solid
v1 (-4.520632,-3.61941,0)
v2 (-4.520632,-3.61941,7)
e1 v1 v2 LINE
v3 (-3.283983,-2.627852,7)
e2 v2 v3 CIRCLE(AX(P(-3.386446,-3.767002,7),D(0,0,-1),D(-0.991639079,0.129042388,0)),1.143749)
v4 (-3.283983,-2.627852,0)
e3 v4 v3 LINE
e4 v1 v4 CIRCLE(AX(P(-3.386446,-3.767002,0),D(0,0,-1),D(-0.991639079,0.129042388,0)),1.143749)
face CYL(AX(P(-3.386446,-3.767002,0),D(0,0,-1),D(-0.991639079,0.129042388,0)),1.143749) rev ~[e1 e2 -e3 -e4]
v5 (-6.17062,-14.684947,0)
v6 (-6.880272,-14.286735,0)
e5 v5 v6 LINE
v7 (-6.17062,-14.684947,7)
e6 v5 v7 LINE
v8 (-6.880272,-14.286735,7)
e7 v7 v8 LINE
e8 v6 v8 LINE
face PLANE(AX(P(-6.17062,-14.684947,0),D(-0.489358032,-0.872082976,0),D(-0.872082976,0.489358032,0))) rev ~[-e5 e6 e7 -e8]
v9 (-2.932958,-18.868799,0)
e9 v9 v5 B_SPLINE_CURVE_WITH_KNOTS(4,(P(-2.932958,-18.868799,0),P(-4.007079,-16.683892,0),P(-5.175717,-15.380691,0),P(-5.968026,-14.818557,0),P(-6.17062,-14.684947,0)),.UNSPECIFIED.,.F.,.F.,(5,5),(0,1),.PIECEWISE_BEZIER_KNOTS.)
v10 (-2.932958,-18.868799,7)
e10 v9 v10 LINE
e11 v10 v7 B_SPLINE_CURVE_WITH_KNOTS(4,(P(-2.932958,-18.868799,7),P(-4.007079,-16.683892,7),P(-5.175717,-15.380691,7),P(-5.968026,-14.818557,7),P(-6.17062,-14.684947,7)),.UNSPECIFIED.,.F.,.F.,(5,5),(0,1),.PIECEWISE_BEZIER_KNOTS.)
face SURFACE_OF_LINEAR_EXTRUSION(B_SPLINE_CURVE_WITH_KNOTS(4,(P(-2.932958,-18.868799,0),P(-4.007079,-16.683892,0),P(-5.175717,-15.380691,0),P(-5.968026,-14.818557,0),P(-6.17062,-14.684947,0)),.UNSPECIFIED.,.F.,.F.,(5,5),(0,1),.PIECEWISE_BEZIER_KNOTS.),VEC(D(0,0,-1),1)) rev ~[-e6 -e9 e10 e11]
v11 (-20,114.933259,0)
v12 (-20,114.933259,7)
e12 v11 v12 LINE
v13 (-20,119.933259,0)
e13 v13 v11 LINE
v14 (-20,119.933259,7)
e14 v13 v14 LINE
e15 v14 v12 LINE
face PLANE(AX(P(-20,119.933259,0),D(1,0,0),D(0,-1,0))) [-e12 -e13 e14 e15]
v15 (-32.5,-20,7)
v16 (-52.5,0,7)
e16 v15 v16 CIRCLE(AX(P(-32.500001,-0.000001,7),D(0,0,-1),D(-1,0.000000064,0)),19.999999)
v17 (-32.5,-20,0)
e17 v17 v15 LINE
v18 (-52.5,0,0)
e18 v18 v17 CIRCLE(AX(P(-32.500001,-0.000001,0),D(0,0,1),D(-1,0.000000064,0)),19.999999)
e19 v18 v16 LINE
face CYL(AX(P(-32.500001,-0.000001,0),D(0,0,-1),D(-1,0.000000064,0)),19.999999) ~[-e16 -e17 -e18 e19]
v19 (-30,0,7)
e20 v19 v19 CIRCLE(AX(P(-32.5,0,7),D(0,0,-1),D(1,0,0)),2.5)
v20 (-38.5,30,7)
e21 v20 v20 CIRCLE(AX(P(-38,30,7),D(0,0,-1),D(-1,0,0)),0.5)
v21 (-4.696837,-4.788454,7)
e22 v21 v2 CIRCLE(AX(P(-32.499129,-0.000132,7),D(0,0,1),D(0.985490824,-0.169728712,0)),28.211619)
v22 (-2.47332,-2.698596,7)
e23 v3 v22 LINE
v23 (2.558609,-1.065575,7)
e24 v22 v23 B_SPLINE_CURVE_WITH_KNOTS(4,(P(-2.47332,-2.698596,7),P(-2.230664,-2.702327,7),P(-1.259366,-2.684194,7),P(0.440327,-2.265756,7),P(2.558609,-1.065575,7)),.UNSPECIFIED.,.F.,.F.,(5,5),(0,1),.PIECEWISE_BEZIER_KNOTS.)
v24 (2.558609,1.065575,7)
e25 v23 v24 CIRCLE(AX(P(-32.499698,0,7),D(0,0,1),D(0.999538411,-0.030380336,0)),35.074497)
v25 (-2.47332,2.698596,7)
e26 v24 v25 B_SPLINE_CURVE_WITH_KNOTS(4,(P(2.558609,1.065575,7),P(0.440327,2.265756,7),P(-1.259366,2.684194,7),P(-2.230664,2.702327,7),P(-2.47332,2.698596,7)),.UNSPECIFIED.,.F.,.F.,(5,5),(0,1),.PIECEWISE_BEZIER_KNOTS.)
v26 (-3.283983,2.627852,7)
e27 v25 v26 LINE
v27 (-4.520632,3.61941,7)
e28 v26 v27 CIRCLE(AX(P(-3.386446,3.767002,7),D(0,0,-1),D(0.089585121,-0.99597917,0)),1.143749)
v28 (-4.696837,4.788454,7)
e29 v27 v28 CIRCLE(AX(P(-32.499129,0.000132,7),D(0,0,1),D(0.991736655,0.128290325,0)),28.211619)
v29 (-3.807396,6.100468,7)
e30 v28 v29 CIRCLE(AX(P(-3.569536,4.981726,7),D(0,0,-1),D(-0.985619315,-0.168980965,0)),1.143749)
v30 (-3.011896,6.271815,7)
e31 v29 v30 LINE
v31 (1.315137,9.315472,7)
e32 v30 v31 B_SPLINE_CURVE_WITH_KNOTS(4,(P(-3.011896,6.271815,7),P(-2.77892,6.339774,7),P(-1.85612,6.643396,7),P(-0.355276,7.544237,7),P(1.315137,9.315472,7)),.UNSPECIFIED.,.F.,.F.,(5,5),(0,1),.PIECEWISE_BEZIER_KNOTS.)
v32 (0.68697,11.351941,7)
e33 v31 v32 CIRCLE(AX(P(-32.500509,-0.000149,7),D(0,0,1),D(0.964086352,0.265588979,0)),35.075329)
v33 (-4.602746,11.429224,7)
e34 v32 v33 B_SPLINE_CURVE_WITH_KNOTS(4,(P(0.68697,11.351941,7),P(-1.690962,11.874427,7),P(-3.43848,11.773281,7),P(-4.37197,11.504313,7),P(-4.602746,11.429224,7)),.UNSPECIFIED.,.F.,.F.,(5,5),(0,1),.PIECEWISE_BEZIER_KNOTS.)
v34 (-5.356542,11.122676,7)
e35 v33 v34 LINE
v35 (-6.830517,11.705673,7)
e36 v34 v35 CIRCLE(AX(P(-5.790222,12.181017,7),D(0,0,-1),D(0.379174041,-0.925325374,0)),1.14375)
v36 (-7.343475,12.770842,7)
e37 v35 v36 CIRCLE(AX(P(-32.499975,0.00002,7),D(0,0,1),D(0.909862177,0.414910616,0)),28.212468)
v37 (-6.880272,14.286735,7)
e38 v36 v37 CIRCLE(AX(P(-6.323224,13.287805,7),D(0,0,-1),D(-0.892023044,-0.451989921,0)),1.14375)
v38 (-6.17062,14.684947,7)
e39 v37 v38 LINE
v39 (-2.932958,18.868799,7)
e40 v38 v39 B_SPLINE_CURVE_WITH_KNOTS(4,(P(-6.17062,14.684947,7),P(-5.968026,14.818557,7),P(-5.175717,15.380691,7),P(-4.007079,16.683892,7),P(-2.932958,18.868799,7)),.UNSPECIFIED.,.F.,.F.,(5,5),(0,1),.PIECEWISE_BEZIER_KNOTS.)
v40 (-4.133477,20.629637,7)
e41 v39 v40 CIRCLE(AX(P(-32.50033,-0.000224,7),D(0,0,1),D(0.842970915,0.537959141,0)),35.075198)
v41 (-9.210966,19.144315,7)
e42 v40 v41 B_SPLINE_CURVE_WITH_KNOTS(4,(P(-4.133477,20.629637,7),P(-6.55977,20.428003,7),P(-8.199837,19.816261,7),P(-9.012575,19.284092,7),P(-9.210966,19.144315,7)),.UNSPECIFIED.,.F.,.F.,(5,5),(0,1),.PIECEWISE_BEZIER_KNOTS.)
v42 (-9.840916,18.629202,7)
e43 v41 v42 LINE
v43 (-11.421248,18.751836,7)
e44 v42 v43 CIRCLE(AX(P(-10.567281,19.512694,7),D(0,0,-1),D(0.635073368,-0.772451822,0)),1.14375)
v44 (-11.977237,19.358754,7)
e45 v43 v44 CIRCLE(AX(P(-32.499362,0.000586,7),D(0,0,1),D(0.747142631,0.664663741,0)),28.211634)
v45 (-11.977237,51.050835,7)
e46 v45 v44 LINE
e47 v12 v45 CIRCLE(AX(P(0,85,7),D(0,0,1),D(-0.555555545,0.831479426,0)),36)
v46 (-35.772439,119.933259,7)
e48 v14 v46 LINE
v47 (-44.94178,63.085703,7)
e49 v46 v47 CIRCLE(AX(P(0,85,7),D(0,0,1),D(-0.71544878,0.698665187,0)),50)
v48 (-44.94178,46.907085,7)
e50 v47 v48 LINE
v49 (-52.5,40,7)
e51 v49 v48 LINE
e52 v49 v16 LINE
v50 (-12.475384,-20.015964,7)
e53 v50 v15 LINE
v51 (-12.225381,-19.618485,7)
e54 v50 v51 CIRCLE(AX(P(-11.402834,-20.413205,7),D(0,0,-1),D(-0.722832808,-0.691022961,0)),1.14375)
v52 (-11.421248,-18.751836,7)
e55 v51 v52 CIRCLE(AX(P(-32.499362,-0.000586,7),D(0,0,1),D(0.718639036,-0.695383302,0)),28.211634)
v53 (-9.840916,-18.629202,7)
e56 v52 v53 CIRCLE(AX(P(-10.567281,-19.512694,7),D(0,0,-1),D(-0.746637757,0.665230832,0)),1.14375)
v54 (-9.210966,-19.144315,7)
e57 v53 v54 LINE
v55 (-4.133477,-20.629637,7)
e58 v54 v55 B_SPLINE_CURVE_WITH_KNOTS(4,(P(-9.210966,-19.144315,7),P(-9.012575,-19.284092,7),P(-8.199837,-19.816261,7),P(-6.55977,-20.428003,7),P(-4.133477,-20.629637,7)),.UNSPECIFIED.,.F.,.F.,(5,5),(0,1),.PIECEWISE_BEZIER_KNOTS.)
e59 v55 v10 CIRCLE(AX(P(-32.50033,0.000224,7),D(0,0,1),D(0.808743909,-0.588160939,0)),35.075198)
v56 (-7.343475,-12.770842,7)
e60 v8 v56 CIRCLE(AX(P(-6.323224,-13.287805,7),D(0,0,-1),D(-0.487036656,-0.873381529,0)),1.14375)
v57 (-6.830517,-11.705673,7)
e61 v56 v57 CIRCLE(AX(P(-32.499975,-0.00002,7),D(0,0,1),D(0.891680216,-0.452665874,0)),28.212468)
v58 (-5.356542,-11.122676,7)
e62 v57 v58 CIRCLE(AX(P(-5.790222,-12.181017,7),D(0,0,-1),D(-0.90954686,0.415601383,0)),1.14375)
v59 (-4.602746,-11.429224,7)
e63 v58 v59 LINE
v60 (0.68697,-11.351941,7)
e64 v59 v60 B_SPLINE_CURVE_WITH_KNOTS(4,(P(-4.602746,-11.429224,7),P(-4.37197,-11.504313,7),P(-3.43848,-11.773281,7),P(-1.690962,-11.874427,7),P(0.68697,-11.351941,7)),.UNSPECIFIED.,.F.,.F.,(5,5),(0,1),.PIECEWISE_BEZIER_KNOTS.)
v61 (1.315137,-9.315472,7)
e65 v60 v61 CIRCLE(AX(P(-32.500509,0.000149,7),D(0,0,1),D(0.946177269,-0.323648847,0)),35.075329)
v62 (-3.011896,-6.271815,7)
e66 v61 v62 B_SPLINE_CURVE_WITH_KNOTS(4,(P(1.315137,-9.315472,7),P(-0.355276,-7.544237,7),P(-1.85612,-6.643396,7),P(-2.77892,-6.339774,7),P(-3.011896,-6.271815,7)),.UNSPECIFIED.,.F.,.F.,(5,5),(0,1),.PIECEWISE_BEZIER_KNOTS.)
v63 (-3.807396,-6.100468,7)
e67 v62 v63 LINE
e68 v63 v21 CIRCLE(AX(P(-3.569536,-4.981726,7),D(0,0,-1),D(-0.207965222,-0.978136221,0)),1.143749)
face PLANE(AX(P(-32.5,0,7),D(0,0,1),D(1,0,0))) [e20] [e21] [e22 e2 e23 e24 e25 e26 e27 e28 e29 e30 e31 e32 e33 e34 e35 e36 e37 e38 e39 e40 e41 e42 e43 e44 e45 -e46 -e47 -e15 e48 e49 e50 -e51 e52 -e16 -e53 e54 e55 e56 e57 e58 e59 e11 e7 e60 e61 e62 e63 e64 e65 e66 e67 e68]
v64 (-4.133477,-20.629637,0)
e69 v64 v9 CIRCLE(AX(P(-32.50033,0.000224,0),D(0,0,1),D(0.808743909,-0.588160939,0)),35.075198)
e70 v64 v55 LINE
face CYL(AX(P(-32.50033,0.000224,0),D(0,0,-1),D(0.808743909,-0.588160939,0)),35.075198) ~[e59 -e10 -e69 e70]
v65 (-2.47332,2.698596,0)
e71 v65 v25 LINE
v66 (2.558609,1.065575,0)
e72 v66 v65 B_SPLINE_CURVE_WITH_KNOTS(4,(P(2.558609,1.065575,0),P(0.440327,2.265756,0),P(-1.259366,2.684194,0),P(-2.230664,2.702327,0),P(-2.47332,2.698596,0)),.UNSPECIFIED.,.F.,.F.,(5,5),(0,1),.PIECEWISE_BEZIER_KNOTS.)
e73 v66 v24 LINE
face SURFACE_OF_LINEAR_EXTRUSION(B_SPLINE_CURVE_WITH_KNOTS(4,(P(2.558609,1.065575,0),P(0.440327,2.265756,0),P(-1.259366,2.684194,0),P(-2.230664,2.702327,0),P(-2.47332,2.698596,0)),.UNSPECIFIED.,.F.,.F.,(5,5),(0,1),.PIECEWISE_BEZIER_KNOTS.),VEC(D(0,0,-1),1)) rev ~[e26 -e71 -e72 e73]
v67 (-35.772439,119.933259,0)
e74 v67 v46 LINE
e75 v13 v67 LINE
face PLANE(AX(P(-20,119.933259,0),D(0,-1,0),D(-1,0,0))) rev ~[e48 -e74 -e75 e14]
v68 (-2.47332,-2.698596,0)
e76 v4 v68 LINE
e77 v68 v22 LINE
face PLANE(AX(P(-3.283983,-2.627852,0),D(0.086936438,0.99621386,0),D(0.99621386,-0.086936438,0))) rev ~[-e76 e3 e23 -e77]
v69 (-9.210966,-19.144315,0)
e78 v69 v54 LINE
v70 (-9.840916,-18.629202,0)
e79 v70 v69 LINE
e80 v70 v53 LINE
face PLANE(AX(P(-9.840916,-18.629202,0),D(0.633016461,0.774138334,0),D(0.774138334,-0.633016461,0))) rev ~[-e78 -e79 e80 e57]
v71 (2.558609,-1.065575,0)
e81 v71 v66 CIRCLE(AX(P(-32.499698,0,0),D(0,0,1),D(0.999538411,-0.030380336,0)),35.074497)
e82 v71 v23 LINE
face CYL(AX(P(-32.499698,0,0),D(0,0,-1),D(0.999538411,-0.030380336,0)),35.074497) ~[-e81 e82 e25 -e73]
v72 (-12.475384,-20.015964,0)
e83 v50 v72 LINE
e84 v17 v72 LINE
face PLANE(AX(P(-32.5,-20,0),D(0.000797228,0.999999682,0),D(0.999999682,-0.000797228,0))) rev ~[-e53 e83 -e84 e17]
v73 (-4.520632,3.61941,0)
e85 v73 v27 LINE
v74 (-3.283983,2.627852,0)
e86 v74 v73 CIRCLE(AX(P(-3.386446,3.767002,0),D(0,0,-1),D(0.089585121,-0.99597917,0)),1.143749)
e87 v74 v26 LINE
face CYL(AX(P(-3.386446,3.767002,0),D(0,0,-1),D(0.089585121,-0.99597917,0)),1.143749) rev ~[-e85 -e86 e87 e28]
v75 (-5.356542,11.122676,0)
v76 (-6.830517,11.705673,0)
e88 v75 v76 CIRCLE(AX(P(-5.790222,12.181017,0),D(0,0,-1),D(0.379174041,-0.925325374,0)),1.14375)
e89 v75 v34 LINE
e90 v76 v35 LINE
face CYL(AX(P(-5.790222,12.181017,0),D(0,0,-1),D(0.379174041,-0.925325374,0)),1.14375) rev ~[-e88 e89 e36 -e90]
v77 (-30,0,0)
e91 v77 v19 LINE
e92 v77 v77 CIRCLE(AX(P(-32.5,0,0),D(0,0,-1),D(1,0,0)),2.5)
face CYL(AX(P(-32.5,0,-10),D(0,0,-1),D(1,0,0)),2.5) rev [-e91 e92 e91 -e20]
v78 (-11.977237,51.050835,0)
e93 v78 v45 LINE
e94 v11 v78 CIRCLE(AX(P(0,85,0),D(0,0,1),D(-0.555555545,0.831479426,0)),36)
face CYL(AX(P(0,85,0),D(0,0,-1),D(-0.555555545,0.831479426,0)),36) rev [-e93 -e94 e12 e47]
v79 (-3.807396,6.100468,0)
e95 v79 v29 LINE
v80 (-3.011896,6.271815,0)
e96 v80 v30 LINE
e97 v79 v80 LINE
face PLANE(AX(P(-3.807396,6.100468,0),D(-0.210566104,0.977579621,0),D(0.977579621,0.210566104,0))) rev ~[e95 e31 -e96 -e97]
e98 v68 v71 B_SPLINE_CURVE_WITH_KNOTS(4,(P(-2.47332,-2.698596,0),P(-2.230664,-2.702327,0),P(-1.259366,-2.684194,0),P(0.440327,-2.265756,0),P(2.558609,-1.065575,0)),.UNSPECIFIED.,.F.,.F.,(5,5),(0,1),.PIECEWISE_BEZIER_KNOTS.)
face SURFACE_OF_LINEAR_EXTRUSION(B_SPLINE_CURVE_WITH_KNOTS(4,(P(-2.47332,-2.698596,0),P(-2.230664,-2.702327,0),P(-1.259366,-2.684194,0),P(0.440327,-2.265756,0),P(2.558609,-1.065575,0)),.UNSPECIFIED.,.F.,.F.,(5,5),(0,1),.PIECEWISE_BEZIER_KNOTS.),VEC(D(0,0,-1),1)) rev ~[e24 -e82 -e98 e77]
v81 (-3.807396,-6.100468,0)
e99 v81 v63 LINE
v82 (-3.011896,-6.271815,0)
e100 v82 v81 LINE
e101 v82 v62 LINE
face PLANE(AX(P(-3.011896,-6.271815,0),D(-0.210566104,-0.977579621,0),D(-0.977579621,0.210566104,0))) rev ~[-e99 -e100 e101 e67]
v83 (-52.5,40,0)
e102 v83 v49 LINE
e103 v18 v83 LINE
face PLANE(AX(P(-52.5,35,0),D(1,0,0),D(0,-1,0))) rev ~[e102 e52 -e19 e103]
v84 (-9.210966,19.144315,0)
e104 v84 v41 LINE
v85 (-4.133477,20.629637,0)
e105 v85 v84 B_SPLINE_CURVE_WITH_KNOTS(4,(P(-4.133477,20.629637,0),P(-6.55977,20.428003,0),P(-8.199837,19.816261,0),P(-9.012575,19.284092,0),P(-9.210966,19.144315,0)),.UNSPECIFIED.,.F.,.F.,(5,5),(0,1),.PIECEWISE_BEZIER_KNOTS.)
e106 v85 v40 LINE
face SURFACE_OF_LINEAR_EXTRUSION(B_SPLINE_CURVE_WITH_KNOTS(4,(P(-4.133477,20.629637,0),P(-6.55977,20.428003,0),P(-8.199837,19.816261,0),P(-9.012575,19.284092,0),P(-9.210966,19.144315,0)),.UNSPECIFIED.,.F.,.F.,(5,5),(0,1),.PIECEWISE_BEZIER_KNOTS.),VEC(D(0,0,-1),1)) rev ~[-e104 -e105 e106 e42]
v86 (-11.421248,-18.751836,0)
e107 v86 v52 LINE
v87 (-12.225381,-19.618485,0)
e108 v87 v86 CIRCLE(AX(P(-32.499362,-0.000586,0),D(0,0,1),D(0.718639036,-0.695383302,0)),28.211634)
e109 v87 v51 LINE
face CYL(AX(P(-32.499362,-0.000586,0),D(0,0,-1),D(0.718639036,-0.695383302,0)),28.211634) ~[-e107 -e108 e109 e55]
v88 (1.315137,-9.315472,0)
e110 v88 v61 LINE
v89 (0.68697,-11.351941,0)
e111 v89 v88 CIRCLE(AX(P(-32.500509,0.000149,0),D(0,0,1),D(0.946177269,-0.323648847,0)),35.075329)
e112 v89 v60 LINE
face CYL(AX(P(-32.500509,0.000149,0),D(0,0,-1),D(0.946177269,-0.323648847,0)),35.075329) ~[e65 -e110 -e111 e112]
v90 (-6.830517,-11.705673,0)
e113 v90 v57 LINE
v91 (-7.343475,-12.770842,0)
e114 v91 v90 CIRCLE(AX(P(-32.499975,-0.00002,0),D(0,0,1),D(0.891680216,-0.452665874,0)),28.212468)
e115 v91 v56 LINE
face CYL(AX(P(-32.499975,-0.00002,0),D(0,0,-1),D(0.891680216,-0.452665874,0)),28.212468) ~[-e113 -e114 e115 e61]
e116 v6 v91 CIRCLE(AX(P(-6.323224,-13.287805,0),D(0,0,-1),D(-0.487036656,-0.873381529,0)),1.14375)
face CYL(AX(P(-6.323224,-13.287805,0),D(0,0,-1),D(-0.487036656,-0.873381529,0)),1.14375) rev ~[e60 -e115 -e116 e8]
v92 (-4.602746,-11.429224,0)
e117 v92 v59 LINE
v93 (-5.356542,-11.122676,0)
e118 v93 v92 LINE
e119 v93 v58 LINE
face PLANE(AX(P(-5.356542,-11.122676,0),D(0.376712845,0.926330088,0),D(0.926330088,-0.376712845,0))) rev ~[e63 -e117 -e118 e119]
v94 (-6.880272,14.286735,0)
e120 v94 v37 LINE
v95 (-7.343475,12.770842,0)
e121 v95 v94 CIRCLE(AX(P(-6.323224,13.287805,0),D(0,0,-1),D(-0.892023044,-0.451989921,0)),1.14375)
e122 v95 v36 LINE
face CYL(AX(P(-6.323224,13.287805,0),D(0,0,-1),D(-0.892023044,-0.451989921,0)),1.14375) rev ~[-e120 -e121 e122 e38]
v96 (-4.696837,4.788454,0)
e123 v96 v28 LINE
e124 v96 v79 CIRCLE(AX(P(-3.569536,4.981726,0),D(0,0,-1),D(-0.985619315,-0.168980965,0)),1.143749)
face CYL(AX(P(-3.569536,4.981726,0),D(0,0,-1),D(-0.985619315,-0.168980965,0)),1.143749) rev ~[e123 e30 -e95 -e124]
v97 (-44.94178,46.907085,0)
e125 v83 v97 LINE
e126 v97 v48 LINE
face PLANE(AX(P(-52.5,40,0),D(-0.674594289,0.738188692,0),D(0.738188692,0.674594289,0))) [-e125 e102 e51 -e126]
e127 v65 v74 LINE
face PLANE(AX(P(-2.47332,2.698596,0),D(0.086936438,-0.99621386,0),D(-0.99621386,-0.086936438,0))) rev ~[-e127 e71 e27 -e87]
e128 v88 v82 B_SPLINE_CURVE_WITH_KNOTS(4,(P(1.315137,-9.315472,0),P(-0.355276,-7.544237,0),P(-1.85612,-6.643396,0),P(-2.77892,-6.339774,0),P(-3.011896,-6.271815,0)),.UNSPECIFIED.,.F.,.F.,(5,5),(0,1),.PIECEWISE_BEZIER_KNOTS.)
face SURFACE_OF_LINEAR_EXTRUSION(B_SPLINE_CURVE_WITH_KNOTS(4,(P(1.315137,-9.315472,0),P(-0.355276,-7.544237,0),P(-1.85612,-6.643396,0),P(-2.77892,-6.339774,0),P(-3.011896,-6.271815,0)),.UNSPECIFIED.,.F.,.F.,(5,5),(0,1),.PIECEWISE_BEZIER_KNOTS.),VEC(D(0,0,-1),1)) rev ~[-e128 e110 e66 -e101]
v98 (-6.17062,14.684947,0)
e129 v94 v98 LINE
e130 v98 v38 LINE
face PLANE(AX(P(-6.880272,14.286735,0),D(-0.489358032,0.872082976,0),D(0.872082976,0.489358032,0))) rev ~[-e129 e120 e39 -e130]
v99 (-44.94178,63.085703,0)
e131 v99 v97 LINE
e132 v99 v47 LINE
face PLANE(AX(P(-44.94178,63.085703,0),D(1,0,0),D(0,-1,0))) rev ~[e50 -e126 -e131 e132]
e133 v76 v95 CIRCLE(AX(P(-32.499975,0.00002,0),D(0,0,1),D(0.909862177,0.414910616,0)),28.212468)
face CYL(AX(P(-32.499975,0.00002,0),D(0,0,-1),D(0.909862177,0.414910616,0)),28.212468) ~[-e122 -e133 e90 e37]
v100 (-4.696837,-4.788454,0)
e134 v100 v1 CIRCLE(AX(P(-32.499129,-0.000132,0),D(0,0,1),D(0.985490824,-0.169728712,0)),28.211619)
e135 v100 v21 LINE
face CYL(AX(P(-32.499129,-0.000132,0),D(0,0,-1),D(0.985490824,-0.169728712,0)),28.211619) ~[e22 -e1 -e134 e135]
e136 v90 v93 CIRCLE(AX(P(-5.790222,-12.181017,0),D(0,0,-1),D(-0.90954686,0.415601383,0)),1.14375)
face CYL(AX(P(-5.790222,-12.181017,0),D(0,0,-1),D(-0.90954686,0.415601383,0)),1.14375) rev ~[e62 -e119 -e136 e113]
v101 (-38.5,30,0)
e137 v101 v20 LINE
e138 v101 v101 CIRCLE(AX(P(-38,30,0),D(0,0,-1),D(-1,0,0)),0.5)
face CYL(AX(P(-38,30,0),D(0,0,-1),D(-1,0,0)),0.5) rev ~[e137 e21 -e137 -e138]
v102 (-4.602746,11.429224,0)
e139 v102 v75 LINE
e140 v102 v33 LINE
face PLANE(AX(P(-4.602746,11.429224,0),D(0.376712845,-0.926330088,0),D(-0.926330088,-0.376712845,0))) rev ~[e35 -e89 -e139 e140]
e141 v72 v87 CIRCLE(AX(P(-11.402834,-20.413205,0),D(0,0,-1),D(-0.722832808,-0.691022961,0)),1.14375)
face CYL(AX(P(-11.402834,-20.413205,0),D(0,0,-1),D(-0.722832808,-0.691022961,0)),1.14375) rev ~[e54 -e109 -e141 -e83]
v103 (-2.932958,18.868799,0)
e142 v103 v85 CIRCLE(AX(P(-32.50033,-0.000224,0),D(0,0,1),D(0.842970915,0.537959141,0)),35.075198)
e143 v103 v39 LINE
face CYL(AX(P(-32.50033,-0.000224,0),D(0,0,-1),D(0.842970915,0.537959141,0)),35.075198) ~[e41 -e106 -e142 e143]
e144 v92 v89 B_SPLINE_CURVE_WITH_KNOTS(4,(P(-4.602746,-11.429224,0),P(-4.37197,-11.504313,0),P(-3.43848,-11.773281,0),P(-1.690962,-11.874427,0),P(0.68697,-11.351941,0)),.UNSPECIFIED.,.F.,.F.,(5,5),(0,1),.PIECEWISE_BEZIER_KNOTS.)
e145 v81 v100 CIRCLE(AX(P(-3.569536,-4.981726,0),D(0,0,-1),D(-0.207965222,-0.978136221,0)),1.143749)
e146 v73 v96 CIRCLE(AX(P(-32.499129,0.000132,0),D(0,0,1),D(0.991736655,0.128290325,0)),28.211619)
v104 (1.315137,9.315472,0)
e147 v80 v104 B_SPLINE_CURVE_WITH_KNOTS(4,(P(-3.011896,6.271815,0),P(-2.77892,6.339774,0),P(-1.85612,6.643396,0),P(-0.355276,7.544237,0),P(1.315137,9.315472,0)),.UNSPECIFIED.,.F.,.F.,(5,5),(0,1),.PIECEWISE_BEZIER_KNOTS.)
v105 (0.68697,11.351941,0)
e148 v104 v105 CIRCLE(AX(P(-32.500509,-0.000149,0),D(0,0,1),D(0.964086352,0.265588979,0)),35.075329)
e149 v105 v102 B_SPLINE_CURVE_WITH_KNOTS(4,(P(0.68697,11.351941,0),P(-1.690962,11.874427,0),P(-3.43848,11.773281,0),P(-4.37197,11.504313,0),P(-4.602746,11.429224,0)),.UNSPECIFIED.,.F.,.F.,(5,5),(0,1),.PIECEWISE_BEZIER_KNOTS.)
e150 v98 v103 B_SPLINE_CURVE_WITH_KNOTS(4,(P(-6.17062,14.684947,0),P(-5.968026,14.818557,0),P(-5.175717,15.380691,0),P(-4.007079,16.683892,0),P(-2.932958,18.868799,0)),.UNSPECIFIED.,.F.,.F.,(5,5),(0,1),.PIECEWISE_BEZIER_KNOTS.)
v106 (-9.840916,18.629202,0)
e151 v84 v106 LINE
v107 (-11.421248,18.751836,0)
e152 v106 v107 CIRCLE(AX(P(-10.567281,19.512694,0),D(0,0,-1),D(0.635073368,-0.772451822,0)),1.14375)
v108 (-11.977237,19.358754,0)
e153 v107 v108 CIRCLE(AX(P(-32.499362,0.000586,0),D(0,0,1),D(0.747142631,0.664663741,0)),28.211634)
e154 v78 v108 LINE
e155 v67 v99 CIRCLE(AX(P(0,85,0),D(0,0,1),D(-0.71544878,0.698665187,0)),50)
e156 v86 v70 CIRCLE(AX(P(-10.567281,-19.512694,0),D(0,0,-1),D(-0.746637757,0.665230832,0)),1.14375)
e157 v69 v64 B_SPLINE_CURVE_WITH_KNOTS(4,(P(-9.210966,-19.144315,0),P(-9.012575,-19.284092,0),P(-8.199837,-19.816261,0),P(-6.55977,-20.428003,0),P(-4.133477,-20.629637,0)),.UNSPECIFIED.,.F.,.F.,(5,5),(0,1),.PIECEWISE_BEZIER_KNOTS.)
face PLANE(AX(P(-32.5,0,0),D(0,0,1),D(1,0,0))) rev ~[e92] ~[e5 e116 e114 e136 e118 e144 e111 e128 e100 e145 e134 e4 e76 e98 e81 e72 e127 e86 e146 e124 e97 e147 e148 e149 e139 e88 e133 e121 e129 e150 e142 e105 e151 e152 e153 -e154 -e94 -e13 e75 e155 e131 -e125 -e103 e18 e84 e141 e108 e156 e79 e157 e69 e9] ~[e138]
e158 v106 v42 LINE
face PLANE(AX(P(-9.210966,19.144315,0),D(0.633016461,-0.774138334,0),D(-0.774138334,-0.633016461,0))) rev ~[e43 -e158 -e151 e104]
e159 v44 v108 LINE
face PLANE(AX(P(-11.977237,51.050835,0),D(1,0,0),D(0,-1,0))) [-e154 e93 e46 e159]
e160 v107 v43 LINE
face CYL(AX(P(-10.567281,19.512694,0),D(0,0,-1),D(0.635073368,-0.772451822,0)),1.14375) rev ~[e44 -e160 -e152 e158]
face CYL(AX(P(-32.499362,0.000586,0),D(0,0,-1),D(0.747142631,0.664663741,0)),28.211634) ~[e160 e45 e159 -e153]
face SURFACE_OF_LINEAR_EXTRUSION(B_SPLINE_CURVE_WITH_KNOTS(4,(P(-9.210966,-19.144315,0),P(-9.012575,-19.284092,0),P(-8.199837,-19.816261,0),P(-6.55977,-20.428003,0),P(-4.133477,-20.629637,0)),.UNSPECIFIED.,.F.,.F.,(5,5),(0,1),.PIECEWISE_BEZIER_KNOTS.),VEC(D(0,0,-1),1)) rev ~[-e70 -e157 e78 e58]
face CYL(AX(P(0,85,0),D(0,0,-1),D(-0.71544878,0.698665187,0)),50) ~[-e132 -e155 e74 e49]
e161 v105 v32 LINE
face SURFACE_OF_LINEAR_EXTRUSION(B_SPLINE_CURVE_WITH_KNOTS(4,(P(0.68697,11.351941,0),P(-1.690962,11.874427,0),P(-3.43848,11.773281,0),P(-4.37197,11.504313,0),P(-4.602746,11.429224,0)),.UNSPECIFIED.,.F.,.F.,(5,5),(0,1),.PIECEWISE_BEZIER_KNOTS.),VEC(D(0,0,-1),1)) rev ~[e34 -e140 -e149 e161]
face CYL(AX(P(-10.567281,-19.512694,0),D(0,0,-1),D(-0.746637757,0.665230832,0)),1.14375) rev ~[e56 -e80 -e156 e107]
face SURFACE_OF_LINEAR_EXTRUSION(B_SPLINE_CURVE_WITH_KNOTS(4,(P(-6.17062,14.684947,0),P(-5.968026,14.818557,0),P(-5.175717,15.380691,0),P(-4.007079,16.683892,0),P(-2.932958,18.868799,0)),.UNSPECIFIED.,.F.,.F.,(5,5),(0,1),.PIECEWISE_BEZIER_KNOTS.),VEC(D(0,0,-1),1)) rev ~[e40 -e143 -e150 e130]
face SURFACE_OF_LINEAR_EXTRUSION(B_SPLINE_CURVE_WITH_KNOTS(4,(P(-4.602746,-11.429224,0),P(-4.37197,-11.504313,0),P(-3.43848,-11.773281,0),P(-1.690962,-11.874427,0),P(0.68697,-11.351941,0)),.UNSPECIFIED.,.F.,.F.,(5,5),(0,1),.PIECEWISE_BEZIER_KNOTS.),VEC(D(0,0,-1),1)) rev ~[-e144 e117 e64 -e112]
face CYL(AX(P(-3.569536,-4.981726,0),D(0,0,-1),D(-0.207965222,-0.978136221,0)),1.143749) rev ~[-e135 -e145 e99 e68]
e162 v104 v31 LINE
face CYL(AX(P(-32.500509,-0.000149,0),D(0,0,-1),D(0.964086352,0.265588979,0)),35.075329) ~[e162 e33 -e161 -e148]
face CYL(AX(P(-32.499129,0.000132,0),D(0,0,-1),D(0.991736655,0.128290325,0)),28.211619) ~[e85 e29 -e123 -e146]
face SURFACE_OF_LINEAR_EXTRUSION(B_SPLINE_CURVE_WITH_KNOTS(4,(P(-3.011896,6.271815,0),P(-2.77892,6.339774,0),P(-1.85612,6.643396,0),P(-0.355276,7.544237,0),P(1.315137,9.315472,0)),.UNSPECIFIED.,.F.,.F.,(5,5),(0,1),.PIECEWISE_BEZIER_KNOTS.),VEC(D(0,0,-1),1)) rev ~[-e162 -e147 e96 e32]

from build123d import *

# Parameters (mm, degrees)
CYLINDER002_R     = 0.5
CYLINDER002_DEPTH = 15
SKETCH002_W       = 3.675859
SKETCH002_H       = 9.820133
PAD002_DEPTH      = 10
CYLINDER001_R     = 2.5
CYLINDER001_DEPTH = 30
PAD_DEPTH         = 7
PAD001_DEPTH      = 7


with BuildPart() as fixation_servo:
    # Cylinder002 → Cylinder002 (new body)
    with BuildSketch(Plane(origin=(38, 30, 0), x_dir=(1, 0, 0), z_dir=(0, 0, 1))):
        Circle(CYLINDER002_R)
    extrude(amount=CYLINDER002_DEPTH)


with BuildPart() as part_mirroring001:
    # Part__Mirroring001: instance of fixation_servo
    add(fixation_servo.part.mirror(Plane(origin=(0, 0, 0), x_dir=(0, -1, 0), z_dir=(1, 0, 0))))


with BuildPart() as gearcutter_g:
    # Sketch002 → Pad002 (new body)
    with BuildSketch(Plane.XY):
        with BuildLine():
            Line((-20, 35), (-38.772621, 35))
            Line((-38.772621, 35), (-38.772621, -38.212818))
            Line((-38.772621, -38.212818), (39.418999, -38.212818))
            Line((20.044458, -20.01598), (39.418999, -38.212818))
            Line((0, -20), (20.044458, -20.01598))
            ThreePointArc((-20, 0), (-14.142136, -14.142136), (0, -20))
            Line((-20, 35), (-20, 0))
        make_face()
        with Locations((21.83793, 25.089934)):
            Rectangle(SKETCH002_W, SKETCH002_H)
    extrude(amount=PAD002_DEPTH)


with BuildPart() as hole:
    # Cylinder001 → Cylinder001 (new body)
    with BuildSketch(Plane.XY.offset(-10)):
        Circle(CYLINDER001_R)
    extrude(amount=CYLINDER001_DEPTH)


with BuildPart() as cut001:
    # InvoluteGear → Pad (new body)
    with BuildSketch(Plane.XY):
        with BuildLine():
            Line((29.216017, -2.627852), (30.02668, -2.698596))
            add(Edge.make_bspline(
                [(30.02668, -2.698596), (30.269336, -2.702327), (31.240634, -2.684194), (32.940327, -2.265756), (35.058609, -1.065575)],
                knots=[0, 0, 0, 0, 0, 1, 1, 1, 1, 1], degree=4))
            ThreePointArc((35.058609, -1.065575), (35.074799, 0), (35.058609, 1.065575))
            add(Edge.make_bspline(
                [(35.058609, 1.065575), (32.940327, 2.265756), (31.240634, 2.684194), (30.269336, 2.702327), (30.02668, 2.698596)],
                knots=[0, 0, 0, 0, 0, 1, 1, 1, 1, 1], degree=4))
            Line((30.02668, 2.698596), (29.216017, 2.627852))
            ThreePointArc((29.216017, 2.627852), (28.398075, 2.874673), (27.979368, 3.61941))
            ThreePointArc((27.979368, 3.61941), (27.89739, 4.204855), (27.803163, 4.788454))
            ThreePointArc((27.803163, 4.788454), (27.983753, 5.62352), (28.692604, 6.100468))
            Line((28.692604, 6.100468), (29.488104, 6.271815))
            add(Edge.make_bspline(
                [(29.488104, 6.271815), (29.72108, 6.339774), (30.64388, 6.643396), (32.144724, 7.544237), (33.815137, 9.315472)],
                knots=[0, 0, 0, 0, 0, 1, 1, 1, 1, 1], degree=4))
            ThreePointArc((33.815137, 9.315472), (33.516524, 10.338478), (33.18697, 11.351941))
            add(Edge.make_bspline(
                [(33.18697, 11.351941), (30.809038, 11.874427), (29.06152, 11.773281), (28.12803, 11.504313), (27.897254, 11.429224)],
                knots=[0, 0, 0, 0, 0, 1, 1, 1, 1, 1], degree=4))
            Line((27.897254, 11.429224), (27.143458, 11.122676))
            ThreePointArc((27.143458, 11.122676), (26.289104, 11.117439), (25.669483, 11.705673))
            ThreePointArc((25.669483, 11.705673), (25.418584, 12.240945), (25.156525, 12.770842))
            ThreePointArc((25.156525, 12.770842), (25.082952, 13.622039), (25.619728, 14.286735))
            Line((25.619728, 14.286735), (26.32938, 14.684947))
            add(Edge.make_bspline(
                [(26.32938, 14.684947), (26.531974, 14.818557), (27.324283, 15.380691), (28.492921, 16.683892), (29.567042, 18.868799)],
                knots=[0, 0, 0, 0, 0, 1, 1, 1, 1, 1], degree=4))
            ThreePointArc((29.567042, 18.868799), (28.980159, 19.758338), (28.366523, 20.629637))
            add(Edge.make_bspline(
                [(28.366523, 20.629637), (25.94023, 20.428003), (24.300163, 19.816261), (23.487425, 19.284092), (23.289034, 19.144315)],
                knots=[0, 0, 0, 0, 0, 1, 1, 1, 1, 1], degree=4))
            Line((23.289034, 19.144315), (22.659084, 18.629202))
            ThreePointArc((22.659084, 18.629202), (21.84423, 18.372372), (21.078752, 18.751836))
            ThreePointArc((21.078752, 18.751836), (20.681226, 19.189373), (20.274619, 19.618485))
            ThreePointArc((20.274619, 19.618485), (19.95342, 20.41018), (20.270426, 21.203563))
            Line((20.270426, 21.203563), (20.831176, 21.793257))
            add(Edge.make_bspline(
                [(20.831176, 21.793257), (20.985387, 21.980647), (21.576804, 22.751344), (22.309397, 24.341109), (22.691785, 26.745549)],
                knots=[0, 0, 0, 0, 0, 1, 1, 1, 1, 1], degree=4))
            ThreePointArc((22.691785, 26.745549), (21.868779, 27.422582), (21.025585, 28.074299))
            add(Edge.make_bspline(
                [(21.025585, 28.074299), (18.766519, 27.166461), (17.37963, 26.098479), (16.759858, 25.350393), (16.611482, 25.15835)],
                knots=[0, 0, 0, 0, 0, 1, 1, 1, 1, 1], degree=4))
            Line((16.611482, 25.15835), (16.161351, 24.480441))
            ThreePointArc((16.161351, 24.480441), (15.4584, 23.994839), (14.615082, 24.131816))
            ThreePointArc((14.615082, 24.131816), (14.10625, 24.432742), (13.591225, 24.72294))
            ThreePointArc((13.591225, 24.72294), (13.05094, 25.384787), (13.120008, 26.236361))
            Line((13.120008, 26.236361), (13.48203, 26.96514))
            add(Edge.make_bspline(
                [(13.48203, 26.96514), (13.574155, 27.18966), (13.912131, 28.10044), (14.143586, 29.835512), (13.800264, 32.245841)],
                knots=[0, 0, 0, 0, 0, 1, 1, 1, 1, 1], degree=4))
            ThreePointArc((13.800264, 32.245841), (12.814263, 32.65021), (11.816433, 33.024437))
            add(Edge.make_bspline(
                [(11.816433, 33.024437), (9.92532, 31.49106), (8.91484, 30.061732), (8.543105, 29.164202), (8.457926, 28.936956)],
                knots=[0, 0, 0, 0, 0, 1, 1, 1, 1, 1], degree=4))
            Line((8.457926, 28.936956), (8.227611, 28.156485))
            ThreePointArc((8.227611, 28.156485), (7.699024, 27.485259), (6.852797, 27.367578))
            ThreePointArc((6.852797, 27.367578), (6.277872, 27.505154), (5.70019, 27.630653))
            ThreePointArc((5.70019, 27.630653), (4.988826, 28.103844), (4.80382, 28.937943))
            Line((4.80382, 28.937943), (4.934946, 29.741053))
            add(Edge.make_bspline(
                [(4.934946, 29.741053), (4.956801, 29.982752), (5.011304, 30.952689), (4.721054, 32.678899), (3.682528, 34.880948)],
                knots=[0, 0, 0, 0, 0, 1, 1, 1, 1, 1], degree=4))
            ThreePointArc((3.682528, 34.880948), (2.621143, 34.976723), (1.557338, 35.040209))
            add(Edge.make_bspline(
                [(1.557338, 35.040209), (0.202213, 33.01754), (-0.342073, 31.353869), (-0.43274, 30.386642), (-0.447153, 30.144385)],
                knots=[0, 0, 0, 0, 0, 1, 1, 1, 1, 1], degree=4))
            Line((-0.447153, 30.144385), (-0.437188, 29.330703))
            ThreePointArc((-0.437188, 29.330703), (-0.744444, 28.533493), (-1.518389, 28.171611))
            ThreePointArc((-1.518389, 28.171611), (-2.108323, 28.133612), (-2.697331, 28.083261))
            ThreePointArc((-2.697331, 28.083261), (-3.516567, 28.325751), (-3.939209, 29.068262))
            Line((-3.939209, 29.068262), (-4.050629, 29.874342))
            add(Edge.make_bspline(
                [(-4.050629, 29.874342), (-4.100987, 30.111745), (-4.3348, 31.054656), (-5.120964, 32.618623), (-6.762416, 34.416729)],
                knots=[0, 0, 0, 0, 0, 1, 1, 1, 1, 1], degree=4))
            ThreePointArc((-6.762416, 34.416729), (-7.804877, 34.195401), (-8.840133, 33.942504))
            add(Edge.make_bspline(
                [(-8.840133, 33.942504), (-9.538861, 31.610267), (-9.56859, 29.860077), (-9.370135, 28.909097), (-9.312501, 28.673354)],
                knots=[0, 0, 0, 0, 0, 1, 1, 1, 1, 1], degree=4))
            Line((-9.312501, 28.673354), (-9.063142, 27.898758))
            ThreePointArc((-9.063142, 27.898758), (-9.121765, 27.046401), (-9.754659, 26.472472))
            ThreePointArc((-9.754659, 26.472472), (-10.307184, 26.262276), (-10.855183, 26.040548))
            ThreePointArc((-10.855183, 26.040548), (-11.709498, 26.030791), (-12.332222, 26.615739))
            Line((-12.332222, 26.615739), (-12.676288, 27.353165))
            add(Edge.make_bspline(
                [(-12.676288, 27.353165), (-12.794385, 27.565178), (-13.295737, 28.39728), (-14.507962, 29.660038), (-16.60649, 30.894434)],
                knots=[0, 0, 0, 0, 0, 1, 1, 1, 1, 1], degree=4))
            ThreePointArc((-16.60649, 30.894434), (-17.537399, 30.375667), (-18.452119, 29.828859))
            add(Edge.make_bspline(
                [(-18.452119, 29.828859), (-18.432366, 27.394282), (-17.944897, 25.713086), (-17.474952, 24.862851), (-17.350392, 24.65457)],
                knots=[0, 0, 0, 0, 0, 1, 1, 1, 1, 1], degree=4))
            Line((-17.350392, 24.65457), (-16.883795, 23.987887))
            ThreePointArc((-16.883795, 23.987887), (-16.688578, 23.156118), (-17.124185, 22.421138))
            ThreePointArc((-17.124185, 22.421138), (-17.590206, 22.057421), (-18.048504, 21.684019))
            ThreePointArc((-18.048504, 21.684019), (-18.861988, 21.422881), (-19.629463, 21.79829))
            Line((-19.629463, 21.79829), (-20.175603, 22.401539))
            add(Edge.make_bspline(
                [(-20.175603, 22.401539), (-20.350945, 22.569323), (-21.07529, 23.216681), (-22.605863, 24.066029), (-24.975004, 24.627032)],
                knots=[0, 0, 0, 0, 0, 1, 1, 1, 1, 1], degree=4))
            ThreePointArc((-24.975004, 24.627032), (-25.711647, 23.856922), (-26.424554, 23.064789))
            add(Edge.make_bspline(
                [(-26.424554, 23.064789), (-25.688074, 20.744196), (-24.726721, 19.281374), (-24.027043, 18.607432), (-23.846625, 18.445118)],
                knots=[0, 0, 0, 0, 0, 1, 1, 1, 1, 1], degree=4))
            Line((-23.846625, 18.445118), (-23.204249, 17.945586))
            ThreePointArc((-23.204249, 17.945586), (-22.772537, 17.208312), (-22.972152, 16.377588))
            ThreePointArc((-22.972152, 16.377588), (-23.310261, 15.892667), (-23.638136, 15.400768))
            ThreePointArc((-23.638136, 15.400768), (-24.338508, 14.911454), (-25.182539, 15.043968))
            Line((-25.182539, 15.043968), (-25.882227, 15.459439))
            add(Edge.make_bspline(
                [(-25.882227, 15.459439), (-26.099234, 15.568085), (-26.982211, 15.973178), (-28.695135, 16.333648), (-31.12438, 16.17141)],
                knots=[0, 0, 0, 0, 0, 1, 1, 1, 1, 1], degree=4))
            ThreePointArc((-31.12438, 16.17141), (-31.601302, 15.218385), (-32.049051, 14.251311))
            add(Edge.make_bspline(
                [(-32.049051, 14.251311), (-30.661284, 12.250897), (-29.311467, 11.136428), (-28.444225, 10.698661), (-28.22398, 10.596737)],
                knots=[0, 0, 0, 0, 0, 1, 1, 1, 1, 1], degree=4))
            Line((-28.22398, 10.596737), (-27.462904, 10.308742))
            ThreePointArc((-27.462904, 10.308742), (-26.833056, 9.731472), (-26.778943, 8.878817))
            ThreePointArc((-26.778943, 8.878817), (-26.959098, 8.31578), (-27.127416, 7.749093))
            ThreePointArc((-27.127416, 7.749093), (-27.652445, 7.075079), (-28.498037, 6.952923))
            Line((-28.498037, 6.952923), (-29.289102, 7.143699))
            add(Edge.make_bspline(
                [(-29.289102, 7.143699), (-29.528492, 7.183554), (-30.491644, 7.310388), (-32.234718, 7.14995), (-34.508218, 6.278888)],
                knots=[0, 0, 0, 0, 0, 1, 1, 1, 1, 1], degree=4))
            ThreePointArc((-34.508218, 6.278888), (-34.683042, 5.227628), (-34.825849, 4.171541))
            add(Edge.make_bspline(
                [(-34.825849, 4.171541), (-32.910105, 2.669052), (-31.29176, 2.001961), (-30.334014, 1.839267), (-30.093511, 1.80679)],
                knots=[0, 0, 0, 0, 0, 1, 1, 1, 1, 1], degree=4))
            Line((-30.093511, 1.80679), (-29.281359, 1.75592))
            ThreePointArc((-29.281359, 1.75592), (-28.50934, 1.389948), (-28.206307, 0.591124))
            ThreePointArc((-28.206307, 0.591124), (-28.2125, 0), (-28.206307, -0.591124))
            ThreePointArc((-28.206307, -0.591124), (-28.50934, -1.389948), (-29.281359, -1.75592))
            Line((-29.281359, -1.75592), (-30.093511, -1.80679))
            add(Edge.make_bspline(
                [(-30.093511, -1.80679), (-30.334014, -1.839267), (-31.29176, -2.001961), (-32.910105, -2.669052), (-34.825849, -4.171541)],
                knots=[0, 0, 0, 0, 0, 1, 1, 1, 1, 1], degree=4))
            ThreePointArc((-34.825849, -4.171541), (-34.683042, -5.227628), (-34.508218, -6.278888))
            add(Edge.make_bspline(
                [(-34.508218, -6.278888), (-32.234718, -7.14995), (-30.491644, -7.310388), (-29.528492, -7.183554), (-29.289102, -7.143699)],
                knots=[0, 0, 0, 0, 0, 1, 1, 1, 1, 1], degree=4))
            Line((-29.289102, -7.143699), (-28.498037, -6.952923))
            ThreePointArc((-28.498037, -6.952923), (-27.652445, -7.075079), (-27.127416, -7.749093))
            ThreePointArc((-27.127416, -7.749093), (-26.959098, -8.31578), (-26.778943, -8.878817))
            ThreePointArc((-26.778943, -8.878817), (-26.833056, -9.731472), (-27.462904, -10.308742))
            Line((-27.462904, -10.308742), (-28.22398, -10.596737))
            add(Edge.make_bspline(
                [(-28.22398, -10.596737), (-28.444225, -10.698661), (-29.311467, -11.136428), (-30.661284, -12.250897), (-32.049051, -14.251311)],
                knots=[0, 0, 0, 0, 0, 1, 1, 1, 1, 1], degree=4))
            ThreePointArc((-32.049051, -14.251311), (-31.601302, -15.218385), (-31.12438, -16.17141))
            add(Edge.make_bspline(
                [(-31.12438, -16.17141), (-28.695135, -16.333648), (-26.982211, -15.973178), (-26.099234, -15.568085), (-25.882227, -15.459439)],
                knots=[0, 0, 0, 0, 0, 1, 1, 1, 1, 1], degree=4))
            Line((-25.882227, -15.459439), (-25.182539, -15.043968))
            ThreePointArc((-25.182539, -15.043968), (-24.338508, -14.911454), (-23.638136, -15.400768))
            ThreePointArc((-23.638136, -15.400768), (-23.310261, -15.892667), (-22.972152, -16.377588))
            ThreePointArc((-22.972152, -16.377588), (-22.772537, -17.208312), (-23.204249, -17.945586))
            Line((-23.204249, -17.945586), (-23.846625, -18.445118))
            add(Edge.make_bspline(
                [(-23.846625, -18.445118), (-24.027043, -18.607432), (-24.726721, -19.281374), (-25.688074, -20.744196), (-26.424554, -23.064789)],
                knots=[0, 0, 0, 0, 0, 1, 1, 1, 1, 1], degree=4))
            ThreePointArc((-26.424554, -23.064789), (-25.711647, -23.856922), (-24.975004, -24.627032))
            add(Edge.make_bspline(
                [(-24.975004, -24.627032), (-22.605863, -24.066029), (-21.07529, -23.216681), (-20.350945, -22.569323), (-20.175603, -22.401539)],
                knots=[0, 0, 0, 0, 0, 1, 1, 1, 1, 1], degree=4))
            Line((-20.175603, -22.401539), (-19.629463, -21.79829))
            ThreePointArc((-19.629463, -21.79829), (-18.861988, -21.422881), (-18.048504, -21.684019))
            ThreePointArc((-18.048504, -21.684019), (-17.590206, -22.057421), (-17.124185, -22.421138))
            ThreePointArc((-17.124185, -22.421138), (-16.688578, -23.156118), (-16.883795, -23.987887))
            Line((-16.883795, -23.987887), (-17.350392, -24.65457))
            add(Edge.make_bspline(
                [(-17.350392, -24.65457), (-17.474952, -24.862851), (-17.944897, -25.713086), (-18.432366, -27.394282), (-18.452119, -29.828859)],
                knots=[0, 0, 0, 0, 0, 1, 1, 1, 1, 1], degree=4))
            ThreePointArc((-18.452119, -29.828859), (-17.537399, -30.375667), (-16.60649, -30.894434))
            add(Edge.make_bspline(
                [(-16.60649, -30.894434), (-14.507962, -29.660038), (-13.295737, -28.39728), (-12.794385, -27.565178), (-12.676288, -27.353165)],
                knots=[0, 0, 0, 0, 0, 1, 1, 1, 1, 1], degree=4))
            Line((-12.676288, -27.353165), (-12.332222, -26.615739))
            ThreePointArc((-12.332222, -26.615739), (-11.709498, -26.030791), (-10.855183, -26.040548))
            ThreePointArc((-10.855183, -26.040548), (-10.307184, -26.262276), (-9.754659, -26.472472))
            ThreePointArc((-9.754659, -26.472472), (-9.121765, -27.046401), (-9.063142, -27.898758))
            Line((-9.063142, -27.898758), (-9.312501, -28.673354))
            add(Edge.make_bspline(
                [(-9.312501, -28.673354), (-9.370135, -28.909097), (-9.56859, -29.860077), (-9.538861, -31.610267), (-8.840133, -33.942504)],
                knots=[0, 0, 0, 0, 0, 1, 1, 1, 1, 1], degree=4))
            ThreePointArc((-8.840133, -33.942504), (-7.804877, -34.195401), (-6.762416, -34.416729))
            add(Edge.make_bspline(
                [(-6.762416, -34.416729), (-5.120964, -32.618623), (-4.3348, -31.054656), (-4.100987, -30.111745), (-4.050629, -29.874342)],
                knots=[0, 0, 0, 0, 0, 1, 1, 1, 1, 1], degree=4))
            Line((-4.050629, -29.874342), (-3.939209, -29.068262))
            ThreePointArc((-3.939209, -29.068262), (-3.516567, -28.325751), (-2.697331, -28.083261))
            ThreePointArc((-2.697331, -28.083261), (-2.108323, -28.133612), (-1.518389, -28.171611))
            ThreePointArc((-1.518389, -28.171611), (-0.744444, -28.533493), (-0.437188, -29.330703))
            Line((-0.437188, -29.330703), (-0.447153, -30.144385))
            add(Edge.make_bspline(
                [(-0.447153, -30.144385), (-0.43274, -30.386642), (-0.342073, -31.353869), (0.202213, -33.01754), (1.557338, -35.040209)],
                knots=[0, 0, 0, 0, 0, 1, 1, 1, 1, 1], degree=4))
            ThreePointArc((1.557338, -35.040209), (2.621143, -34.976723), (3.682528, -34.880948))
            add(Edge.make_bspline(
                [(3.682528, -34.880948), (4.721054, -32.678899), (5.011304, -30.952689), (4.956801, -29.982752), (4.934946, -29.741053)],
                knots=[0, 0, 0, 0, 0, 1, 1, 1, 1, 1], degree=4))
            Line((4.934946, -29.741053), (4.80382, -28.937943))
            ThreePointArc((4.80382, -28.937943), (4.988826, -28.103844), (5.70019, -27.630653))
            ThreePointArc((5.70019, -27.630653), (6.277872, -27.505154), (6.852797, -27.367578))
            ThreePointArc((6.852797, -27.367578), (7.699024, -27.485259), (8.227611, -28.156485))
            Line((8.227611, -28.156485), (8.457926, -28.936956))
            add(Edge.make_bspline(
                [(8.457926, -28.936956), (8.543105, -29.164202), (8.91484, -30.061732), (9.92532, -31.49106), (11.816433, -33.024437)],
                knots=[0, 0, 0, 0, 0, 1, 1, 1, 1, 1], degree=4))
            ThreePointArc((11.816433, -33.024437), (12.814263, -32.65021), (13.800264, -32.245841))
            add(Edge.make_bspline(
                [(13.800264, -32.245841), (14.143586, -29.835512), (13.912131, -28.10044), (13.574155, -27.18966), (13.48203, -26.96514)],
                knots=[0, 0, 0, 0, 0, 1, 1, 1, 1, 1], degree=4))
            Line((13.48203, -26.96514), (13.120008, -26.236361))
            ThreePointArc((13.120008, -26.236361), (13.05094, -25.384787), (13.591225, -24.72294))
            ThreePointArc((13.591225, -24.72294), (14.10625, -24.432742), (14.615082, -24.131816))
            ThreePointArc((14.615082, -24.131816), (15.4584, -23.994839), (16.161351, -24.480441))
            Line((16.161351, -24.480441), (16.611482, -25.15835))
            add(Edge.make_bspline(
                [(16.611482, -25.15835), (16.759858, -25.350393), (17.37963, -26.098479), (18.766519, -27.166461), (21.025585, -28.074299)],
                knots=[0, 0, 0, 0, 0, 1, 1, 1, 1, 1], degree=4))
            ThreePointArc((21.025585, -28.074299), (21.868779, -27.422582), (22.691785, -26.745549))
            add(Edge.make_bspline(
                [(22.691785, -26.745549), (22.309397, -24.341109), (21.576804, -22.751344), (20.985387, -21.980647), (20.831176, -21.793257)],
                knots=[0, 0, 0, 0, 0, 1, 1, 1, 1, 1], degree=4))
            Line((20.831176, -21.793257), (20.270426, -21.203563))
            ThreePointArc((20.270426, -21.203563), (19.95342, -20.41018), (20.274619, -19.618485))
            ThreePointArc((20.274619, -19.618485), (20.681226, -19.189373), (21.078752, -18.751836))
            ThreePointArc((21.078752, -18.751836), (21.84423, -18.372372), (22.659084, -18.629202))
            Line((22.659084, -18.629202), (23.289034, -19.144315))
            add(Edge.make_bspline(
                [(23.289034, -19.144315), (23.487425, -19.284092), (24.300163, -19.816261), (25.94023, -20.428003), (28.366523, -20.629637)],
                knots=[0, 0, 0, 0, 0, 1, 1, 1, 1, 1], degree=4))
            ThreePointArc((28.366523, -20.629637), (28.980159, -19.758338), (29.567042, -18.868799))
            add(Edge.make_bspline(
                [(29.567042, -18.868799), (28.492921, -16.683892), (27.324283, -15.380691), (26.531974, -14.818557), (26.32938, -14.684947)],
                knots=[0, 0, 0, 0, 0, 1, 1, 1, 1, 1], degree=4))
            Line((26.32938, -14.684947), (25.619728, -14.286735))
            ThreePointArc((25.619728, -14.286735), (25.082952, -13.622039), (25.156525, -12.770842))
            ThreePointArc((25.156525, -12.770842), (25.418584, -12.240945), (25.669483, -11.705673))
            ThreePointArc((25.669483, -11.705673), (26.289104, -11.117439), (27.143458, -11.122676))
            Line((27.143458, -11.122676), (27.897254, -11.429224))
            add(Edge.make_bspline(
                [(27.897254, -11.429224), (28.12803, -11.504313), (29.06152, -11.773281), (30.809038, -11.874427), (33.18697, -11.351941)],
                knots=[0, 0, 0, 0, 0, 1, 1, 1, 1, 1], degree=4))
            ThreePointArc((33.18697, -11.351941), (33.516524, -10.338478), (33.815137, -9.315472))
            add(Edge.make_bspline(
                [(33.815137, -9.315472), (32.144724, -7.544237), (30.64388, -6.643396), (29.72108, -6.339774), (29.488104, -6.271815)],
                knots=[0, 0, 0, 0, 0, 1, 1, 1, 1, 1], degree=4))
            Line((29.488104, -6.271815), (28.692604, -6.100468))
            ThreePointArc((28.692604, -6.100468), (27.983753, -5.62352), (27.803163, -4.788454))
            ThreePointArc((27.803163, -4.788454), (27.89739, -4.204855), (27.979368, -3.61941))
            ThreePointArc((27.979368, -3.61941), (28.398075, -2.874673), (29.216017, -2.627852))
        make_face()
    extrude(amount=PAD_DEPTH)

    # Cut: cut hole
    add(hole.part, mode=Mode.SUBTRACT)

    # Cut001: cut gearcutter_g
    add(gearcutter_g.part, mode=Mode.SUBTRACT)


with BuildPart() as pince_g_servo:
    # Sketch001 → Pad001 (new body)
    with BuildSketch(Plane.XY):
        with BuildLine():
            Line((20.522763, 10), (-20, 10))
            Line((-20, 10), (-20, 40))
            Line((-20, 40), (-12.44178, 46.907085))
            Line((-12.44178, 63.085703), (-12.44178, 46.907085))
            ThreePointArc((-3.272439, 119.933259), (-16.862004, 92.961944), (-12.44178, 63.085703))
            Line((12.5, 119.933259), (-3.272439, 119.933259))
            Line((12.5, 119.933259), (12.5, 114.933259))
            ThreePointArc((12.5, 114.933259), (-3.21942, 80.514127), (20.522763, 51.050835))
            Line((20.522763, 51.050835), (20.522763, 10))
        make_face()
    extrude(amount=PAD001_DEPTH)

    # Fusion: union Cut001
    add(cut001.part)


with BuildPart() as pince_g_servo_1:
    # Clone012 placement: moved
    add(pince_g_servo.part.moved(Location((-32.5, 0, 0))))

    # Cut005: cut Part__Mirroring001
    add(part_mirroring001.part, mode=Mode.SUBTRACT)


solid = pince_g_servo_1.part
